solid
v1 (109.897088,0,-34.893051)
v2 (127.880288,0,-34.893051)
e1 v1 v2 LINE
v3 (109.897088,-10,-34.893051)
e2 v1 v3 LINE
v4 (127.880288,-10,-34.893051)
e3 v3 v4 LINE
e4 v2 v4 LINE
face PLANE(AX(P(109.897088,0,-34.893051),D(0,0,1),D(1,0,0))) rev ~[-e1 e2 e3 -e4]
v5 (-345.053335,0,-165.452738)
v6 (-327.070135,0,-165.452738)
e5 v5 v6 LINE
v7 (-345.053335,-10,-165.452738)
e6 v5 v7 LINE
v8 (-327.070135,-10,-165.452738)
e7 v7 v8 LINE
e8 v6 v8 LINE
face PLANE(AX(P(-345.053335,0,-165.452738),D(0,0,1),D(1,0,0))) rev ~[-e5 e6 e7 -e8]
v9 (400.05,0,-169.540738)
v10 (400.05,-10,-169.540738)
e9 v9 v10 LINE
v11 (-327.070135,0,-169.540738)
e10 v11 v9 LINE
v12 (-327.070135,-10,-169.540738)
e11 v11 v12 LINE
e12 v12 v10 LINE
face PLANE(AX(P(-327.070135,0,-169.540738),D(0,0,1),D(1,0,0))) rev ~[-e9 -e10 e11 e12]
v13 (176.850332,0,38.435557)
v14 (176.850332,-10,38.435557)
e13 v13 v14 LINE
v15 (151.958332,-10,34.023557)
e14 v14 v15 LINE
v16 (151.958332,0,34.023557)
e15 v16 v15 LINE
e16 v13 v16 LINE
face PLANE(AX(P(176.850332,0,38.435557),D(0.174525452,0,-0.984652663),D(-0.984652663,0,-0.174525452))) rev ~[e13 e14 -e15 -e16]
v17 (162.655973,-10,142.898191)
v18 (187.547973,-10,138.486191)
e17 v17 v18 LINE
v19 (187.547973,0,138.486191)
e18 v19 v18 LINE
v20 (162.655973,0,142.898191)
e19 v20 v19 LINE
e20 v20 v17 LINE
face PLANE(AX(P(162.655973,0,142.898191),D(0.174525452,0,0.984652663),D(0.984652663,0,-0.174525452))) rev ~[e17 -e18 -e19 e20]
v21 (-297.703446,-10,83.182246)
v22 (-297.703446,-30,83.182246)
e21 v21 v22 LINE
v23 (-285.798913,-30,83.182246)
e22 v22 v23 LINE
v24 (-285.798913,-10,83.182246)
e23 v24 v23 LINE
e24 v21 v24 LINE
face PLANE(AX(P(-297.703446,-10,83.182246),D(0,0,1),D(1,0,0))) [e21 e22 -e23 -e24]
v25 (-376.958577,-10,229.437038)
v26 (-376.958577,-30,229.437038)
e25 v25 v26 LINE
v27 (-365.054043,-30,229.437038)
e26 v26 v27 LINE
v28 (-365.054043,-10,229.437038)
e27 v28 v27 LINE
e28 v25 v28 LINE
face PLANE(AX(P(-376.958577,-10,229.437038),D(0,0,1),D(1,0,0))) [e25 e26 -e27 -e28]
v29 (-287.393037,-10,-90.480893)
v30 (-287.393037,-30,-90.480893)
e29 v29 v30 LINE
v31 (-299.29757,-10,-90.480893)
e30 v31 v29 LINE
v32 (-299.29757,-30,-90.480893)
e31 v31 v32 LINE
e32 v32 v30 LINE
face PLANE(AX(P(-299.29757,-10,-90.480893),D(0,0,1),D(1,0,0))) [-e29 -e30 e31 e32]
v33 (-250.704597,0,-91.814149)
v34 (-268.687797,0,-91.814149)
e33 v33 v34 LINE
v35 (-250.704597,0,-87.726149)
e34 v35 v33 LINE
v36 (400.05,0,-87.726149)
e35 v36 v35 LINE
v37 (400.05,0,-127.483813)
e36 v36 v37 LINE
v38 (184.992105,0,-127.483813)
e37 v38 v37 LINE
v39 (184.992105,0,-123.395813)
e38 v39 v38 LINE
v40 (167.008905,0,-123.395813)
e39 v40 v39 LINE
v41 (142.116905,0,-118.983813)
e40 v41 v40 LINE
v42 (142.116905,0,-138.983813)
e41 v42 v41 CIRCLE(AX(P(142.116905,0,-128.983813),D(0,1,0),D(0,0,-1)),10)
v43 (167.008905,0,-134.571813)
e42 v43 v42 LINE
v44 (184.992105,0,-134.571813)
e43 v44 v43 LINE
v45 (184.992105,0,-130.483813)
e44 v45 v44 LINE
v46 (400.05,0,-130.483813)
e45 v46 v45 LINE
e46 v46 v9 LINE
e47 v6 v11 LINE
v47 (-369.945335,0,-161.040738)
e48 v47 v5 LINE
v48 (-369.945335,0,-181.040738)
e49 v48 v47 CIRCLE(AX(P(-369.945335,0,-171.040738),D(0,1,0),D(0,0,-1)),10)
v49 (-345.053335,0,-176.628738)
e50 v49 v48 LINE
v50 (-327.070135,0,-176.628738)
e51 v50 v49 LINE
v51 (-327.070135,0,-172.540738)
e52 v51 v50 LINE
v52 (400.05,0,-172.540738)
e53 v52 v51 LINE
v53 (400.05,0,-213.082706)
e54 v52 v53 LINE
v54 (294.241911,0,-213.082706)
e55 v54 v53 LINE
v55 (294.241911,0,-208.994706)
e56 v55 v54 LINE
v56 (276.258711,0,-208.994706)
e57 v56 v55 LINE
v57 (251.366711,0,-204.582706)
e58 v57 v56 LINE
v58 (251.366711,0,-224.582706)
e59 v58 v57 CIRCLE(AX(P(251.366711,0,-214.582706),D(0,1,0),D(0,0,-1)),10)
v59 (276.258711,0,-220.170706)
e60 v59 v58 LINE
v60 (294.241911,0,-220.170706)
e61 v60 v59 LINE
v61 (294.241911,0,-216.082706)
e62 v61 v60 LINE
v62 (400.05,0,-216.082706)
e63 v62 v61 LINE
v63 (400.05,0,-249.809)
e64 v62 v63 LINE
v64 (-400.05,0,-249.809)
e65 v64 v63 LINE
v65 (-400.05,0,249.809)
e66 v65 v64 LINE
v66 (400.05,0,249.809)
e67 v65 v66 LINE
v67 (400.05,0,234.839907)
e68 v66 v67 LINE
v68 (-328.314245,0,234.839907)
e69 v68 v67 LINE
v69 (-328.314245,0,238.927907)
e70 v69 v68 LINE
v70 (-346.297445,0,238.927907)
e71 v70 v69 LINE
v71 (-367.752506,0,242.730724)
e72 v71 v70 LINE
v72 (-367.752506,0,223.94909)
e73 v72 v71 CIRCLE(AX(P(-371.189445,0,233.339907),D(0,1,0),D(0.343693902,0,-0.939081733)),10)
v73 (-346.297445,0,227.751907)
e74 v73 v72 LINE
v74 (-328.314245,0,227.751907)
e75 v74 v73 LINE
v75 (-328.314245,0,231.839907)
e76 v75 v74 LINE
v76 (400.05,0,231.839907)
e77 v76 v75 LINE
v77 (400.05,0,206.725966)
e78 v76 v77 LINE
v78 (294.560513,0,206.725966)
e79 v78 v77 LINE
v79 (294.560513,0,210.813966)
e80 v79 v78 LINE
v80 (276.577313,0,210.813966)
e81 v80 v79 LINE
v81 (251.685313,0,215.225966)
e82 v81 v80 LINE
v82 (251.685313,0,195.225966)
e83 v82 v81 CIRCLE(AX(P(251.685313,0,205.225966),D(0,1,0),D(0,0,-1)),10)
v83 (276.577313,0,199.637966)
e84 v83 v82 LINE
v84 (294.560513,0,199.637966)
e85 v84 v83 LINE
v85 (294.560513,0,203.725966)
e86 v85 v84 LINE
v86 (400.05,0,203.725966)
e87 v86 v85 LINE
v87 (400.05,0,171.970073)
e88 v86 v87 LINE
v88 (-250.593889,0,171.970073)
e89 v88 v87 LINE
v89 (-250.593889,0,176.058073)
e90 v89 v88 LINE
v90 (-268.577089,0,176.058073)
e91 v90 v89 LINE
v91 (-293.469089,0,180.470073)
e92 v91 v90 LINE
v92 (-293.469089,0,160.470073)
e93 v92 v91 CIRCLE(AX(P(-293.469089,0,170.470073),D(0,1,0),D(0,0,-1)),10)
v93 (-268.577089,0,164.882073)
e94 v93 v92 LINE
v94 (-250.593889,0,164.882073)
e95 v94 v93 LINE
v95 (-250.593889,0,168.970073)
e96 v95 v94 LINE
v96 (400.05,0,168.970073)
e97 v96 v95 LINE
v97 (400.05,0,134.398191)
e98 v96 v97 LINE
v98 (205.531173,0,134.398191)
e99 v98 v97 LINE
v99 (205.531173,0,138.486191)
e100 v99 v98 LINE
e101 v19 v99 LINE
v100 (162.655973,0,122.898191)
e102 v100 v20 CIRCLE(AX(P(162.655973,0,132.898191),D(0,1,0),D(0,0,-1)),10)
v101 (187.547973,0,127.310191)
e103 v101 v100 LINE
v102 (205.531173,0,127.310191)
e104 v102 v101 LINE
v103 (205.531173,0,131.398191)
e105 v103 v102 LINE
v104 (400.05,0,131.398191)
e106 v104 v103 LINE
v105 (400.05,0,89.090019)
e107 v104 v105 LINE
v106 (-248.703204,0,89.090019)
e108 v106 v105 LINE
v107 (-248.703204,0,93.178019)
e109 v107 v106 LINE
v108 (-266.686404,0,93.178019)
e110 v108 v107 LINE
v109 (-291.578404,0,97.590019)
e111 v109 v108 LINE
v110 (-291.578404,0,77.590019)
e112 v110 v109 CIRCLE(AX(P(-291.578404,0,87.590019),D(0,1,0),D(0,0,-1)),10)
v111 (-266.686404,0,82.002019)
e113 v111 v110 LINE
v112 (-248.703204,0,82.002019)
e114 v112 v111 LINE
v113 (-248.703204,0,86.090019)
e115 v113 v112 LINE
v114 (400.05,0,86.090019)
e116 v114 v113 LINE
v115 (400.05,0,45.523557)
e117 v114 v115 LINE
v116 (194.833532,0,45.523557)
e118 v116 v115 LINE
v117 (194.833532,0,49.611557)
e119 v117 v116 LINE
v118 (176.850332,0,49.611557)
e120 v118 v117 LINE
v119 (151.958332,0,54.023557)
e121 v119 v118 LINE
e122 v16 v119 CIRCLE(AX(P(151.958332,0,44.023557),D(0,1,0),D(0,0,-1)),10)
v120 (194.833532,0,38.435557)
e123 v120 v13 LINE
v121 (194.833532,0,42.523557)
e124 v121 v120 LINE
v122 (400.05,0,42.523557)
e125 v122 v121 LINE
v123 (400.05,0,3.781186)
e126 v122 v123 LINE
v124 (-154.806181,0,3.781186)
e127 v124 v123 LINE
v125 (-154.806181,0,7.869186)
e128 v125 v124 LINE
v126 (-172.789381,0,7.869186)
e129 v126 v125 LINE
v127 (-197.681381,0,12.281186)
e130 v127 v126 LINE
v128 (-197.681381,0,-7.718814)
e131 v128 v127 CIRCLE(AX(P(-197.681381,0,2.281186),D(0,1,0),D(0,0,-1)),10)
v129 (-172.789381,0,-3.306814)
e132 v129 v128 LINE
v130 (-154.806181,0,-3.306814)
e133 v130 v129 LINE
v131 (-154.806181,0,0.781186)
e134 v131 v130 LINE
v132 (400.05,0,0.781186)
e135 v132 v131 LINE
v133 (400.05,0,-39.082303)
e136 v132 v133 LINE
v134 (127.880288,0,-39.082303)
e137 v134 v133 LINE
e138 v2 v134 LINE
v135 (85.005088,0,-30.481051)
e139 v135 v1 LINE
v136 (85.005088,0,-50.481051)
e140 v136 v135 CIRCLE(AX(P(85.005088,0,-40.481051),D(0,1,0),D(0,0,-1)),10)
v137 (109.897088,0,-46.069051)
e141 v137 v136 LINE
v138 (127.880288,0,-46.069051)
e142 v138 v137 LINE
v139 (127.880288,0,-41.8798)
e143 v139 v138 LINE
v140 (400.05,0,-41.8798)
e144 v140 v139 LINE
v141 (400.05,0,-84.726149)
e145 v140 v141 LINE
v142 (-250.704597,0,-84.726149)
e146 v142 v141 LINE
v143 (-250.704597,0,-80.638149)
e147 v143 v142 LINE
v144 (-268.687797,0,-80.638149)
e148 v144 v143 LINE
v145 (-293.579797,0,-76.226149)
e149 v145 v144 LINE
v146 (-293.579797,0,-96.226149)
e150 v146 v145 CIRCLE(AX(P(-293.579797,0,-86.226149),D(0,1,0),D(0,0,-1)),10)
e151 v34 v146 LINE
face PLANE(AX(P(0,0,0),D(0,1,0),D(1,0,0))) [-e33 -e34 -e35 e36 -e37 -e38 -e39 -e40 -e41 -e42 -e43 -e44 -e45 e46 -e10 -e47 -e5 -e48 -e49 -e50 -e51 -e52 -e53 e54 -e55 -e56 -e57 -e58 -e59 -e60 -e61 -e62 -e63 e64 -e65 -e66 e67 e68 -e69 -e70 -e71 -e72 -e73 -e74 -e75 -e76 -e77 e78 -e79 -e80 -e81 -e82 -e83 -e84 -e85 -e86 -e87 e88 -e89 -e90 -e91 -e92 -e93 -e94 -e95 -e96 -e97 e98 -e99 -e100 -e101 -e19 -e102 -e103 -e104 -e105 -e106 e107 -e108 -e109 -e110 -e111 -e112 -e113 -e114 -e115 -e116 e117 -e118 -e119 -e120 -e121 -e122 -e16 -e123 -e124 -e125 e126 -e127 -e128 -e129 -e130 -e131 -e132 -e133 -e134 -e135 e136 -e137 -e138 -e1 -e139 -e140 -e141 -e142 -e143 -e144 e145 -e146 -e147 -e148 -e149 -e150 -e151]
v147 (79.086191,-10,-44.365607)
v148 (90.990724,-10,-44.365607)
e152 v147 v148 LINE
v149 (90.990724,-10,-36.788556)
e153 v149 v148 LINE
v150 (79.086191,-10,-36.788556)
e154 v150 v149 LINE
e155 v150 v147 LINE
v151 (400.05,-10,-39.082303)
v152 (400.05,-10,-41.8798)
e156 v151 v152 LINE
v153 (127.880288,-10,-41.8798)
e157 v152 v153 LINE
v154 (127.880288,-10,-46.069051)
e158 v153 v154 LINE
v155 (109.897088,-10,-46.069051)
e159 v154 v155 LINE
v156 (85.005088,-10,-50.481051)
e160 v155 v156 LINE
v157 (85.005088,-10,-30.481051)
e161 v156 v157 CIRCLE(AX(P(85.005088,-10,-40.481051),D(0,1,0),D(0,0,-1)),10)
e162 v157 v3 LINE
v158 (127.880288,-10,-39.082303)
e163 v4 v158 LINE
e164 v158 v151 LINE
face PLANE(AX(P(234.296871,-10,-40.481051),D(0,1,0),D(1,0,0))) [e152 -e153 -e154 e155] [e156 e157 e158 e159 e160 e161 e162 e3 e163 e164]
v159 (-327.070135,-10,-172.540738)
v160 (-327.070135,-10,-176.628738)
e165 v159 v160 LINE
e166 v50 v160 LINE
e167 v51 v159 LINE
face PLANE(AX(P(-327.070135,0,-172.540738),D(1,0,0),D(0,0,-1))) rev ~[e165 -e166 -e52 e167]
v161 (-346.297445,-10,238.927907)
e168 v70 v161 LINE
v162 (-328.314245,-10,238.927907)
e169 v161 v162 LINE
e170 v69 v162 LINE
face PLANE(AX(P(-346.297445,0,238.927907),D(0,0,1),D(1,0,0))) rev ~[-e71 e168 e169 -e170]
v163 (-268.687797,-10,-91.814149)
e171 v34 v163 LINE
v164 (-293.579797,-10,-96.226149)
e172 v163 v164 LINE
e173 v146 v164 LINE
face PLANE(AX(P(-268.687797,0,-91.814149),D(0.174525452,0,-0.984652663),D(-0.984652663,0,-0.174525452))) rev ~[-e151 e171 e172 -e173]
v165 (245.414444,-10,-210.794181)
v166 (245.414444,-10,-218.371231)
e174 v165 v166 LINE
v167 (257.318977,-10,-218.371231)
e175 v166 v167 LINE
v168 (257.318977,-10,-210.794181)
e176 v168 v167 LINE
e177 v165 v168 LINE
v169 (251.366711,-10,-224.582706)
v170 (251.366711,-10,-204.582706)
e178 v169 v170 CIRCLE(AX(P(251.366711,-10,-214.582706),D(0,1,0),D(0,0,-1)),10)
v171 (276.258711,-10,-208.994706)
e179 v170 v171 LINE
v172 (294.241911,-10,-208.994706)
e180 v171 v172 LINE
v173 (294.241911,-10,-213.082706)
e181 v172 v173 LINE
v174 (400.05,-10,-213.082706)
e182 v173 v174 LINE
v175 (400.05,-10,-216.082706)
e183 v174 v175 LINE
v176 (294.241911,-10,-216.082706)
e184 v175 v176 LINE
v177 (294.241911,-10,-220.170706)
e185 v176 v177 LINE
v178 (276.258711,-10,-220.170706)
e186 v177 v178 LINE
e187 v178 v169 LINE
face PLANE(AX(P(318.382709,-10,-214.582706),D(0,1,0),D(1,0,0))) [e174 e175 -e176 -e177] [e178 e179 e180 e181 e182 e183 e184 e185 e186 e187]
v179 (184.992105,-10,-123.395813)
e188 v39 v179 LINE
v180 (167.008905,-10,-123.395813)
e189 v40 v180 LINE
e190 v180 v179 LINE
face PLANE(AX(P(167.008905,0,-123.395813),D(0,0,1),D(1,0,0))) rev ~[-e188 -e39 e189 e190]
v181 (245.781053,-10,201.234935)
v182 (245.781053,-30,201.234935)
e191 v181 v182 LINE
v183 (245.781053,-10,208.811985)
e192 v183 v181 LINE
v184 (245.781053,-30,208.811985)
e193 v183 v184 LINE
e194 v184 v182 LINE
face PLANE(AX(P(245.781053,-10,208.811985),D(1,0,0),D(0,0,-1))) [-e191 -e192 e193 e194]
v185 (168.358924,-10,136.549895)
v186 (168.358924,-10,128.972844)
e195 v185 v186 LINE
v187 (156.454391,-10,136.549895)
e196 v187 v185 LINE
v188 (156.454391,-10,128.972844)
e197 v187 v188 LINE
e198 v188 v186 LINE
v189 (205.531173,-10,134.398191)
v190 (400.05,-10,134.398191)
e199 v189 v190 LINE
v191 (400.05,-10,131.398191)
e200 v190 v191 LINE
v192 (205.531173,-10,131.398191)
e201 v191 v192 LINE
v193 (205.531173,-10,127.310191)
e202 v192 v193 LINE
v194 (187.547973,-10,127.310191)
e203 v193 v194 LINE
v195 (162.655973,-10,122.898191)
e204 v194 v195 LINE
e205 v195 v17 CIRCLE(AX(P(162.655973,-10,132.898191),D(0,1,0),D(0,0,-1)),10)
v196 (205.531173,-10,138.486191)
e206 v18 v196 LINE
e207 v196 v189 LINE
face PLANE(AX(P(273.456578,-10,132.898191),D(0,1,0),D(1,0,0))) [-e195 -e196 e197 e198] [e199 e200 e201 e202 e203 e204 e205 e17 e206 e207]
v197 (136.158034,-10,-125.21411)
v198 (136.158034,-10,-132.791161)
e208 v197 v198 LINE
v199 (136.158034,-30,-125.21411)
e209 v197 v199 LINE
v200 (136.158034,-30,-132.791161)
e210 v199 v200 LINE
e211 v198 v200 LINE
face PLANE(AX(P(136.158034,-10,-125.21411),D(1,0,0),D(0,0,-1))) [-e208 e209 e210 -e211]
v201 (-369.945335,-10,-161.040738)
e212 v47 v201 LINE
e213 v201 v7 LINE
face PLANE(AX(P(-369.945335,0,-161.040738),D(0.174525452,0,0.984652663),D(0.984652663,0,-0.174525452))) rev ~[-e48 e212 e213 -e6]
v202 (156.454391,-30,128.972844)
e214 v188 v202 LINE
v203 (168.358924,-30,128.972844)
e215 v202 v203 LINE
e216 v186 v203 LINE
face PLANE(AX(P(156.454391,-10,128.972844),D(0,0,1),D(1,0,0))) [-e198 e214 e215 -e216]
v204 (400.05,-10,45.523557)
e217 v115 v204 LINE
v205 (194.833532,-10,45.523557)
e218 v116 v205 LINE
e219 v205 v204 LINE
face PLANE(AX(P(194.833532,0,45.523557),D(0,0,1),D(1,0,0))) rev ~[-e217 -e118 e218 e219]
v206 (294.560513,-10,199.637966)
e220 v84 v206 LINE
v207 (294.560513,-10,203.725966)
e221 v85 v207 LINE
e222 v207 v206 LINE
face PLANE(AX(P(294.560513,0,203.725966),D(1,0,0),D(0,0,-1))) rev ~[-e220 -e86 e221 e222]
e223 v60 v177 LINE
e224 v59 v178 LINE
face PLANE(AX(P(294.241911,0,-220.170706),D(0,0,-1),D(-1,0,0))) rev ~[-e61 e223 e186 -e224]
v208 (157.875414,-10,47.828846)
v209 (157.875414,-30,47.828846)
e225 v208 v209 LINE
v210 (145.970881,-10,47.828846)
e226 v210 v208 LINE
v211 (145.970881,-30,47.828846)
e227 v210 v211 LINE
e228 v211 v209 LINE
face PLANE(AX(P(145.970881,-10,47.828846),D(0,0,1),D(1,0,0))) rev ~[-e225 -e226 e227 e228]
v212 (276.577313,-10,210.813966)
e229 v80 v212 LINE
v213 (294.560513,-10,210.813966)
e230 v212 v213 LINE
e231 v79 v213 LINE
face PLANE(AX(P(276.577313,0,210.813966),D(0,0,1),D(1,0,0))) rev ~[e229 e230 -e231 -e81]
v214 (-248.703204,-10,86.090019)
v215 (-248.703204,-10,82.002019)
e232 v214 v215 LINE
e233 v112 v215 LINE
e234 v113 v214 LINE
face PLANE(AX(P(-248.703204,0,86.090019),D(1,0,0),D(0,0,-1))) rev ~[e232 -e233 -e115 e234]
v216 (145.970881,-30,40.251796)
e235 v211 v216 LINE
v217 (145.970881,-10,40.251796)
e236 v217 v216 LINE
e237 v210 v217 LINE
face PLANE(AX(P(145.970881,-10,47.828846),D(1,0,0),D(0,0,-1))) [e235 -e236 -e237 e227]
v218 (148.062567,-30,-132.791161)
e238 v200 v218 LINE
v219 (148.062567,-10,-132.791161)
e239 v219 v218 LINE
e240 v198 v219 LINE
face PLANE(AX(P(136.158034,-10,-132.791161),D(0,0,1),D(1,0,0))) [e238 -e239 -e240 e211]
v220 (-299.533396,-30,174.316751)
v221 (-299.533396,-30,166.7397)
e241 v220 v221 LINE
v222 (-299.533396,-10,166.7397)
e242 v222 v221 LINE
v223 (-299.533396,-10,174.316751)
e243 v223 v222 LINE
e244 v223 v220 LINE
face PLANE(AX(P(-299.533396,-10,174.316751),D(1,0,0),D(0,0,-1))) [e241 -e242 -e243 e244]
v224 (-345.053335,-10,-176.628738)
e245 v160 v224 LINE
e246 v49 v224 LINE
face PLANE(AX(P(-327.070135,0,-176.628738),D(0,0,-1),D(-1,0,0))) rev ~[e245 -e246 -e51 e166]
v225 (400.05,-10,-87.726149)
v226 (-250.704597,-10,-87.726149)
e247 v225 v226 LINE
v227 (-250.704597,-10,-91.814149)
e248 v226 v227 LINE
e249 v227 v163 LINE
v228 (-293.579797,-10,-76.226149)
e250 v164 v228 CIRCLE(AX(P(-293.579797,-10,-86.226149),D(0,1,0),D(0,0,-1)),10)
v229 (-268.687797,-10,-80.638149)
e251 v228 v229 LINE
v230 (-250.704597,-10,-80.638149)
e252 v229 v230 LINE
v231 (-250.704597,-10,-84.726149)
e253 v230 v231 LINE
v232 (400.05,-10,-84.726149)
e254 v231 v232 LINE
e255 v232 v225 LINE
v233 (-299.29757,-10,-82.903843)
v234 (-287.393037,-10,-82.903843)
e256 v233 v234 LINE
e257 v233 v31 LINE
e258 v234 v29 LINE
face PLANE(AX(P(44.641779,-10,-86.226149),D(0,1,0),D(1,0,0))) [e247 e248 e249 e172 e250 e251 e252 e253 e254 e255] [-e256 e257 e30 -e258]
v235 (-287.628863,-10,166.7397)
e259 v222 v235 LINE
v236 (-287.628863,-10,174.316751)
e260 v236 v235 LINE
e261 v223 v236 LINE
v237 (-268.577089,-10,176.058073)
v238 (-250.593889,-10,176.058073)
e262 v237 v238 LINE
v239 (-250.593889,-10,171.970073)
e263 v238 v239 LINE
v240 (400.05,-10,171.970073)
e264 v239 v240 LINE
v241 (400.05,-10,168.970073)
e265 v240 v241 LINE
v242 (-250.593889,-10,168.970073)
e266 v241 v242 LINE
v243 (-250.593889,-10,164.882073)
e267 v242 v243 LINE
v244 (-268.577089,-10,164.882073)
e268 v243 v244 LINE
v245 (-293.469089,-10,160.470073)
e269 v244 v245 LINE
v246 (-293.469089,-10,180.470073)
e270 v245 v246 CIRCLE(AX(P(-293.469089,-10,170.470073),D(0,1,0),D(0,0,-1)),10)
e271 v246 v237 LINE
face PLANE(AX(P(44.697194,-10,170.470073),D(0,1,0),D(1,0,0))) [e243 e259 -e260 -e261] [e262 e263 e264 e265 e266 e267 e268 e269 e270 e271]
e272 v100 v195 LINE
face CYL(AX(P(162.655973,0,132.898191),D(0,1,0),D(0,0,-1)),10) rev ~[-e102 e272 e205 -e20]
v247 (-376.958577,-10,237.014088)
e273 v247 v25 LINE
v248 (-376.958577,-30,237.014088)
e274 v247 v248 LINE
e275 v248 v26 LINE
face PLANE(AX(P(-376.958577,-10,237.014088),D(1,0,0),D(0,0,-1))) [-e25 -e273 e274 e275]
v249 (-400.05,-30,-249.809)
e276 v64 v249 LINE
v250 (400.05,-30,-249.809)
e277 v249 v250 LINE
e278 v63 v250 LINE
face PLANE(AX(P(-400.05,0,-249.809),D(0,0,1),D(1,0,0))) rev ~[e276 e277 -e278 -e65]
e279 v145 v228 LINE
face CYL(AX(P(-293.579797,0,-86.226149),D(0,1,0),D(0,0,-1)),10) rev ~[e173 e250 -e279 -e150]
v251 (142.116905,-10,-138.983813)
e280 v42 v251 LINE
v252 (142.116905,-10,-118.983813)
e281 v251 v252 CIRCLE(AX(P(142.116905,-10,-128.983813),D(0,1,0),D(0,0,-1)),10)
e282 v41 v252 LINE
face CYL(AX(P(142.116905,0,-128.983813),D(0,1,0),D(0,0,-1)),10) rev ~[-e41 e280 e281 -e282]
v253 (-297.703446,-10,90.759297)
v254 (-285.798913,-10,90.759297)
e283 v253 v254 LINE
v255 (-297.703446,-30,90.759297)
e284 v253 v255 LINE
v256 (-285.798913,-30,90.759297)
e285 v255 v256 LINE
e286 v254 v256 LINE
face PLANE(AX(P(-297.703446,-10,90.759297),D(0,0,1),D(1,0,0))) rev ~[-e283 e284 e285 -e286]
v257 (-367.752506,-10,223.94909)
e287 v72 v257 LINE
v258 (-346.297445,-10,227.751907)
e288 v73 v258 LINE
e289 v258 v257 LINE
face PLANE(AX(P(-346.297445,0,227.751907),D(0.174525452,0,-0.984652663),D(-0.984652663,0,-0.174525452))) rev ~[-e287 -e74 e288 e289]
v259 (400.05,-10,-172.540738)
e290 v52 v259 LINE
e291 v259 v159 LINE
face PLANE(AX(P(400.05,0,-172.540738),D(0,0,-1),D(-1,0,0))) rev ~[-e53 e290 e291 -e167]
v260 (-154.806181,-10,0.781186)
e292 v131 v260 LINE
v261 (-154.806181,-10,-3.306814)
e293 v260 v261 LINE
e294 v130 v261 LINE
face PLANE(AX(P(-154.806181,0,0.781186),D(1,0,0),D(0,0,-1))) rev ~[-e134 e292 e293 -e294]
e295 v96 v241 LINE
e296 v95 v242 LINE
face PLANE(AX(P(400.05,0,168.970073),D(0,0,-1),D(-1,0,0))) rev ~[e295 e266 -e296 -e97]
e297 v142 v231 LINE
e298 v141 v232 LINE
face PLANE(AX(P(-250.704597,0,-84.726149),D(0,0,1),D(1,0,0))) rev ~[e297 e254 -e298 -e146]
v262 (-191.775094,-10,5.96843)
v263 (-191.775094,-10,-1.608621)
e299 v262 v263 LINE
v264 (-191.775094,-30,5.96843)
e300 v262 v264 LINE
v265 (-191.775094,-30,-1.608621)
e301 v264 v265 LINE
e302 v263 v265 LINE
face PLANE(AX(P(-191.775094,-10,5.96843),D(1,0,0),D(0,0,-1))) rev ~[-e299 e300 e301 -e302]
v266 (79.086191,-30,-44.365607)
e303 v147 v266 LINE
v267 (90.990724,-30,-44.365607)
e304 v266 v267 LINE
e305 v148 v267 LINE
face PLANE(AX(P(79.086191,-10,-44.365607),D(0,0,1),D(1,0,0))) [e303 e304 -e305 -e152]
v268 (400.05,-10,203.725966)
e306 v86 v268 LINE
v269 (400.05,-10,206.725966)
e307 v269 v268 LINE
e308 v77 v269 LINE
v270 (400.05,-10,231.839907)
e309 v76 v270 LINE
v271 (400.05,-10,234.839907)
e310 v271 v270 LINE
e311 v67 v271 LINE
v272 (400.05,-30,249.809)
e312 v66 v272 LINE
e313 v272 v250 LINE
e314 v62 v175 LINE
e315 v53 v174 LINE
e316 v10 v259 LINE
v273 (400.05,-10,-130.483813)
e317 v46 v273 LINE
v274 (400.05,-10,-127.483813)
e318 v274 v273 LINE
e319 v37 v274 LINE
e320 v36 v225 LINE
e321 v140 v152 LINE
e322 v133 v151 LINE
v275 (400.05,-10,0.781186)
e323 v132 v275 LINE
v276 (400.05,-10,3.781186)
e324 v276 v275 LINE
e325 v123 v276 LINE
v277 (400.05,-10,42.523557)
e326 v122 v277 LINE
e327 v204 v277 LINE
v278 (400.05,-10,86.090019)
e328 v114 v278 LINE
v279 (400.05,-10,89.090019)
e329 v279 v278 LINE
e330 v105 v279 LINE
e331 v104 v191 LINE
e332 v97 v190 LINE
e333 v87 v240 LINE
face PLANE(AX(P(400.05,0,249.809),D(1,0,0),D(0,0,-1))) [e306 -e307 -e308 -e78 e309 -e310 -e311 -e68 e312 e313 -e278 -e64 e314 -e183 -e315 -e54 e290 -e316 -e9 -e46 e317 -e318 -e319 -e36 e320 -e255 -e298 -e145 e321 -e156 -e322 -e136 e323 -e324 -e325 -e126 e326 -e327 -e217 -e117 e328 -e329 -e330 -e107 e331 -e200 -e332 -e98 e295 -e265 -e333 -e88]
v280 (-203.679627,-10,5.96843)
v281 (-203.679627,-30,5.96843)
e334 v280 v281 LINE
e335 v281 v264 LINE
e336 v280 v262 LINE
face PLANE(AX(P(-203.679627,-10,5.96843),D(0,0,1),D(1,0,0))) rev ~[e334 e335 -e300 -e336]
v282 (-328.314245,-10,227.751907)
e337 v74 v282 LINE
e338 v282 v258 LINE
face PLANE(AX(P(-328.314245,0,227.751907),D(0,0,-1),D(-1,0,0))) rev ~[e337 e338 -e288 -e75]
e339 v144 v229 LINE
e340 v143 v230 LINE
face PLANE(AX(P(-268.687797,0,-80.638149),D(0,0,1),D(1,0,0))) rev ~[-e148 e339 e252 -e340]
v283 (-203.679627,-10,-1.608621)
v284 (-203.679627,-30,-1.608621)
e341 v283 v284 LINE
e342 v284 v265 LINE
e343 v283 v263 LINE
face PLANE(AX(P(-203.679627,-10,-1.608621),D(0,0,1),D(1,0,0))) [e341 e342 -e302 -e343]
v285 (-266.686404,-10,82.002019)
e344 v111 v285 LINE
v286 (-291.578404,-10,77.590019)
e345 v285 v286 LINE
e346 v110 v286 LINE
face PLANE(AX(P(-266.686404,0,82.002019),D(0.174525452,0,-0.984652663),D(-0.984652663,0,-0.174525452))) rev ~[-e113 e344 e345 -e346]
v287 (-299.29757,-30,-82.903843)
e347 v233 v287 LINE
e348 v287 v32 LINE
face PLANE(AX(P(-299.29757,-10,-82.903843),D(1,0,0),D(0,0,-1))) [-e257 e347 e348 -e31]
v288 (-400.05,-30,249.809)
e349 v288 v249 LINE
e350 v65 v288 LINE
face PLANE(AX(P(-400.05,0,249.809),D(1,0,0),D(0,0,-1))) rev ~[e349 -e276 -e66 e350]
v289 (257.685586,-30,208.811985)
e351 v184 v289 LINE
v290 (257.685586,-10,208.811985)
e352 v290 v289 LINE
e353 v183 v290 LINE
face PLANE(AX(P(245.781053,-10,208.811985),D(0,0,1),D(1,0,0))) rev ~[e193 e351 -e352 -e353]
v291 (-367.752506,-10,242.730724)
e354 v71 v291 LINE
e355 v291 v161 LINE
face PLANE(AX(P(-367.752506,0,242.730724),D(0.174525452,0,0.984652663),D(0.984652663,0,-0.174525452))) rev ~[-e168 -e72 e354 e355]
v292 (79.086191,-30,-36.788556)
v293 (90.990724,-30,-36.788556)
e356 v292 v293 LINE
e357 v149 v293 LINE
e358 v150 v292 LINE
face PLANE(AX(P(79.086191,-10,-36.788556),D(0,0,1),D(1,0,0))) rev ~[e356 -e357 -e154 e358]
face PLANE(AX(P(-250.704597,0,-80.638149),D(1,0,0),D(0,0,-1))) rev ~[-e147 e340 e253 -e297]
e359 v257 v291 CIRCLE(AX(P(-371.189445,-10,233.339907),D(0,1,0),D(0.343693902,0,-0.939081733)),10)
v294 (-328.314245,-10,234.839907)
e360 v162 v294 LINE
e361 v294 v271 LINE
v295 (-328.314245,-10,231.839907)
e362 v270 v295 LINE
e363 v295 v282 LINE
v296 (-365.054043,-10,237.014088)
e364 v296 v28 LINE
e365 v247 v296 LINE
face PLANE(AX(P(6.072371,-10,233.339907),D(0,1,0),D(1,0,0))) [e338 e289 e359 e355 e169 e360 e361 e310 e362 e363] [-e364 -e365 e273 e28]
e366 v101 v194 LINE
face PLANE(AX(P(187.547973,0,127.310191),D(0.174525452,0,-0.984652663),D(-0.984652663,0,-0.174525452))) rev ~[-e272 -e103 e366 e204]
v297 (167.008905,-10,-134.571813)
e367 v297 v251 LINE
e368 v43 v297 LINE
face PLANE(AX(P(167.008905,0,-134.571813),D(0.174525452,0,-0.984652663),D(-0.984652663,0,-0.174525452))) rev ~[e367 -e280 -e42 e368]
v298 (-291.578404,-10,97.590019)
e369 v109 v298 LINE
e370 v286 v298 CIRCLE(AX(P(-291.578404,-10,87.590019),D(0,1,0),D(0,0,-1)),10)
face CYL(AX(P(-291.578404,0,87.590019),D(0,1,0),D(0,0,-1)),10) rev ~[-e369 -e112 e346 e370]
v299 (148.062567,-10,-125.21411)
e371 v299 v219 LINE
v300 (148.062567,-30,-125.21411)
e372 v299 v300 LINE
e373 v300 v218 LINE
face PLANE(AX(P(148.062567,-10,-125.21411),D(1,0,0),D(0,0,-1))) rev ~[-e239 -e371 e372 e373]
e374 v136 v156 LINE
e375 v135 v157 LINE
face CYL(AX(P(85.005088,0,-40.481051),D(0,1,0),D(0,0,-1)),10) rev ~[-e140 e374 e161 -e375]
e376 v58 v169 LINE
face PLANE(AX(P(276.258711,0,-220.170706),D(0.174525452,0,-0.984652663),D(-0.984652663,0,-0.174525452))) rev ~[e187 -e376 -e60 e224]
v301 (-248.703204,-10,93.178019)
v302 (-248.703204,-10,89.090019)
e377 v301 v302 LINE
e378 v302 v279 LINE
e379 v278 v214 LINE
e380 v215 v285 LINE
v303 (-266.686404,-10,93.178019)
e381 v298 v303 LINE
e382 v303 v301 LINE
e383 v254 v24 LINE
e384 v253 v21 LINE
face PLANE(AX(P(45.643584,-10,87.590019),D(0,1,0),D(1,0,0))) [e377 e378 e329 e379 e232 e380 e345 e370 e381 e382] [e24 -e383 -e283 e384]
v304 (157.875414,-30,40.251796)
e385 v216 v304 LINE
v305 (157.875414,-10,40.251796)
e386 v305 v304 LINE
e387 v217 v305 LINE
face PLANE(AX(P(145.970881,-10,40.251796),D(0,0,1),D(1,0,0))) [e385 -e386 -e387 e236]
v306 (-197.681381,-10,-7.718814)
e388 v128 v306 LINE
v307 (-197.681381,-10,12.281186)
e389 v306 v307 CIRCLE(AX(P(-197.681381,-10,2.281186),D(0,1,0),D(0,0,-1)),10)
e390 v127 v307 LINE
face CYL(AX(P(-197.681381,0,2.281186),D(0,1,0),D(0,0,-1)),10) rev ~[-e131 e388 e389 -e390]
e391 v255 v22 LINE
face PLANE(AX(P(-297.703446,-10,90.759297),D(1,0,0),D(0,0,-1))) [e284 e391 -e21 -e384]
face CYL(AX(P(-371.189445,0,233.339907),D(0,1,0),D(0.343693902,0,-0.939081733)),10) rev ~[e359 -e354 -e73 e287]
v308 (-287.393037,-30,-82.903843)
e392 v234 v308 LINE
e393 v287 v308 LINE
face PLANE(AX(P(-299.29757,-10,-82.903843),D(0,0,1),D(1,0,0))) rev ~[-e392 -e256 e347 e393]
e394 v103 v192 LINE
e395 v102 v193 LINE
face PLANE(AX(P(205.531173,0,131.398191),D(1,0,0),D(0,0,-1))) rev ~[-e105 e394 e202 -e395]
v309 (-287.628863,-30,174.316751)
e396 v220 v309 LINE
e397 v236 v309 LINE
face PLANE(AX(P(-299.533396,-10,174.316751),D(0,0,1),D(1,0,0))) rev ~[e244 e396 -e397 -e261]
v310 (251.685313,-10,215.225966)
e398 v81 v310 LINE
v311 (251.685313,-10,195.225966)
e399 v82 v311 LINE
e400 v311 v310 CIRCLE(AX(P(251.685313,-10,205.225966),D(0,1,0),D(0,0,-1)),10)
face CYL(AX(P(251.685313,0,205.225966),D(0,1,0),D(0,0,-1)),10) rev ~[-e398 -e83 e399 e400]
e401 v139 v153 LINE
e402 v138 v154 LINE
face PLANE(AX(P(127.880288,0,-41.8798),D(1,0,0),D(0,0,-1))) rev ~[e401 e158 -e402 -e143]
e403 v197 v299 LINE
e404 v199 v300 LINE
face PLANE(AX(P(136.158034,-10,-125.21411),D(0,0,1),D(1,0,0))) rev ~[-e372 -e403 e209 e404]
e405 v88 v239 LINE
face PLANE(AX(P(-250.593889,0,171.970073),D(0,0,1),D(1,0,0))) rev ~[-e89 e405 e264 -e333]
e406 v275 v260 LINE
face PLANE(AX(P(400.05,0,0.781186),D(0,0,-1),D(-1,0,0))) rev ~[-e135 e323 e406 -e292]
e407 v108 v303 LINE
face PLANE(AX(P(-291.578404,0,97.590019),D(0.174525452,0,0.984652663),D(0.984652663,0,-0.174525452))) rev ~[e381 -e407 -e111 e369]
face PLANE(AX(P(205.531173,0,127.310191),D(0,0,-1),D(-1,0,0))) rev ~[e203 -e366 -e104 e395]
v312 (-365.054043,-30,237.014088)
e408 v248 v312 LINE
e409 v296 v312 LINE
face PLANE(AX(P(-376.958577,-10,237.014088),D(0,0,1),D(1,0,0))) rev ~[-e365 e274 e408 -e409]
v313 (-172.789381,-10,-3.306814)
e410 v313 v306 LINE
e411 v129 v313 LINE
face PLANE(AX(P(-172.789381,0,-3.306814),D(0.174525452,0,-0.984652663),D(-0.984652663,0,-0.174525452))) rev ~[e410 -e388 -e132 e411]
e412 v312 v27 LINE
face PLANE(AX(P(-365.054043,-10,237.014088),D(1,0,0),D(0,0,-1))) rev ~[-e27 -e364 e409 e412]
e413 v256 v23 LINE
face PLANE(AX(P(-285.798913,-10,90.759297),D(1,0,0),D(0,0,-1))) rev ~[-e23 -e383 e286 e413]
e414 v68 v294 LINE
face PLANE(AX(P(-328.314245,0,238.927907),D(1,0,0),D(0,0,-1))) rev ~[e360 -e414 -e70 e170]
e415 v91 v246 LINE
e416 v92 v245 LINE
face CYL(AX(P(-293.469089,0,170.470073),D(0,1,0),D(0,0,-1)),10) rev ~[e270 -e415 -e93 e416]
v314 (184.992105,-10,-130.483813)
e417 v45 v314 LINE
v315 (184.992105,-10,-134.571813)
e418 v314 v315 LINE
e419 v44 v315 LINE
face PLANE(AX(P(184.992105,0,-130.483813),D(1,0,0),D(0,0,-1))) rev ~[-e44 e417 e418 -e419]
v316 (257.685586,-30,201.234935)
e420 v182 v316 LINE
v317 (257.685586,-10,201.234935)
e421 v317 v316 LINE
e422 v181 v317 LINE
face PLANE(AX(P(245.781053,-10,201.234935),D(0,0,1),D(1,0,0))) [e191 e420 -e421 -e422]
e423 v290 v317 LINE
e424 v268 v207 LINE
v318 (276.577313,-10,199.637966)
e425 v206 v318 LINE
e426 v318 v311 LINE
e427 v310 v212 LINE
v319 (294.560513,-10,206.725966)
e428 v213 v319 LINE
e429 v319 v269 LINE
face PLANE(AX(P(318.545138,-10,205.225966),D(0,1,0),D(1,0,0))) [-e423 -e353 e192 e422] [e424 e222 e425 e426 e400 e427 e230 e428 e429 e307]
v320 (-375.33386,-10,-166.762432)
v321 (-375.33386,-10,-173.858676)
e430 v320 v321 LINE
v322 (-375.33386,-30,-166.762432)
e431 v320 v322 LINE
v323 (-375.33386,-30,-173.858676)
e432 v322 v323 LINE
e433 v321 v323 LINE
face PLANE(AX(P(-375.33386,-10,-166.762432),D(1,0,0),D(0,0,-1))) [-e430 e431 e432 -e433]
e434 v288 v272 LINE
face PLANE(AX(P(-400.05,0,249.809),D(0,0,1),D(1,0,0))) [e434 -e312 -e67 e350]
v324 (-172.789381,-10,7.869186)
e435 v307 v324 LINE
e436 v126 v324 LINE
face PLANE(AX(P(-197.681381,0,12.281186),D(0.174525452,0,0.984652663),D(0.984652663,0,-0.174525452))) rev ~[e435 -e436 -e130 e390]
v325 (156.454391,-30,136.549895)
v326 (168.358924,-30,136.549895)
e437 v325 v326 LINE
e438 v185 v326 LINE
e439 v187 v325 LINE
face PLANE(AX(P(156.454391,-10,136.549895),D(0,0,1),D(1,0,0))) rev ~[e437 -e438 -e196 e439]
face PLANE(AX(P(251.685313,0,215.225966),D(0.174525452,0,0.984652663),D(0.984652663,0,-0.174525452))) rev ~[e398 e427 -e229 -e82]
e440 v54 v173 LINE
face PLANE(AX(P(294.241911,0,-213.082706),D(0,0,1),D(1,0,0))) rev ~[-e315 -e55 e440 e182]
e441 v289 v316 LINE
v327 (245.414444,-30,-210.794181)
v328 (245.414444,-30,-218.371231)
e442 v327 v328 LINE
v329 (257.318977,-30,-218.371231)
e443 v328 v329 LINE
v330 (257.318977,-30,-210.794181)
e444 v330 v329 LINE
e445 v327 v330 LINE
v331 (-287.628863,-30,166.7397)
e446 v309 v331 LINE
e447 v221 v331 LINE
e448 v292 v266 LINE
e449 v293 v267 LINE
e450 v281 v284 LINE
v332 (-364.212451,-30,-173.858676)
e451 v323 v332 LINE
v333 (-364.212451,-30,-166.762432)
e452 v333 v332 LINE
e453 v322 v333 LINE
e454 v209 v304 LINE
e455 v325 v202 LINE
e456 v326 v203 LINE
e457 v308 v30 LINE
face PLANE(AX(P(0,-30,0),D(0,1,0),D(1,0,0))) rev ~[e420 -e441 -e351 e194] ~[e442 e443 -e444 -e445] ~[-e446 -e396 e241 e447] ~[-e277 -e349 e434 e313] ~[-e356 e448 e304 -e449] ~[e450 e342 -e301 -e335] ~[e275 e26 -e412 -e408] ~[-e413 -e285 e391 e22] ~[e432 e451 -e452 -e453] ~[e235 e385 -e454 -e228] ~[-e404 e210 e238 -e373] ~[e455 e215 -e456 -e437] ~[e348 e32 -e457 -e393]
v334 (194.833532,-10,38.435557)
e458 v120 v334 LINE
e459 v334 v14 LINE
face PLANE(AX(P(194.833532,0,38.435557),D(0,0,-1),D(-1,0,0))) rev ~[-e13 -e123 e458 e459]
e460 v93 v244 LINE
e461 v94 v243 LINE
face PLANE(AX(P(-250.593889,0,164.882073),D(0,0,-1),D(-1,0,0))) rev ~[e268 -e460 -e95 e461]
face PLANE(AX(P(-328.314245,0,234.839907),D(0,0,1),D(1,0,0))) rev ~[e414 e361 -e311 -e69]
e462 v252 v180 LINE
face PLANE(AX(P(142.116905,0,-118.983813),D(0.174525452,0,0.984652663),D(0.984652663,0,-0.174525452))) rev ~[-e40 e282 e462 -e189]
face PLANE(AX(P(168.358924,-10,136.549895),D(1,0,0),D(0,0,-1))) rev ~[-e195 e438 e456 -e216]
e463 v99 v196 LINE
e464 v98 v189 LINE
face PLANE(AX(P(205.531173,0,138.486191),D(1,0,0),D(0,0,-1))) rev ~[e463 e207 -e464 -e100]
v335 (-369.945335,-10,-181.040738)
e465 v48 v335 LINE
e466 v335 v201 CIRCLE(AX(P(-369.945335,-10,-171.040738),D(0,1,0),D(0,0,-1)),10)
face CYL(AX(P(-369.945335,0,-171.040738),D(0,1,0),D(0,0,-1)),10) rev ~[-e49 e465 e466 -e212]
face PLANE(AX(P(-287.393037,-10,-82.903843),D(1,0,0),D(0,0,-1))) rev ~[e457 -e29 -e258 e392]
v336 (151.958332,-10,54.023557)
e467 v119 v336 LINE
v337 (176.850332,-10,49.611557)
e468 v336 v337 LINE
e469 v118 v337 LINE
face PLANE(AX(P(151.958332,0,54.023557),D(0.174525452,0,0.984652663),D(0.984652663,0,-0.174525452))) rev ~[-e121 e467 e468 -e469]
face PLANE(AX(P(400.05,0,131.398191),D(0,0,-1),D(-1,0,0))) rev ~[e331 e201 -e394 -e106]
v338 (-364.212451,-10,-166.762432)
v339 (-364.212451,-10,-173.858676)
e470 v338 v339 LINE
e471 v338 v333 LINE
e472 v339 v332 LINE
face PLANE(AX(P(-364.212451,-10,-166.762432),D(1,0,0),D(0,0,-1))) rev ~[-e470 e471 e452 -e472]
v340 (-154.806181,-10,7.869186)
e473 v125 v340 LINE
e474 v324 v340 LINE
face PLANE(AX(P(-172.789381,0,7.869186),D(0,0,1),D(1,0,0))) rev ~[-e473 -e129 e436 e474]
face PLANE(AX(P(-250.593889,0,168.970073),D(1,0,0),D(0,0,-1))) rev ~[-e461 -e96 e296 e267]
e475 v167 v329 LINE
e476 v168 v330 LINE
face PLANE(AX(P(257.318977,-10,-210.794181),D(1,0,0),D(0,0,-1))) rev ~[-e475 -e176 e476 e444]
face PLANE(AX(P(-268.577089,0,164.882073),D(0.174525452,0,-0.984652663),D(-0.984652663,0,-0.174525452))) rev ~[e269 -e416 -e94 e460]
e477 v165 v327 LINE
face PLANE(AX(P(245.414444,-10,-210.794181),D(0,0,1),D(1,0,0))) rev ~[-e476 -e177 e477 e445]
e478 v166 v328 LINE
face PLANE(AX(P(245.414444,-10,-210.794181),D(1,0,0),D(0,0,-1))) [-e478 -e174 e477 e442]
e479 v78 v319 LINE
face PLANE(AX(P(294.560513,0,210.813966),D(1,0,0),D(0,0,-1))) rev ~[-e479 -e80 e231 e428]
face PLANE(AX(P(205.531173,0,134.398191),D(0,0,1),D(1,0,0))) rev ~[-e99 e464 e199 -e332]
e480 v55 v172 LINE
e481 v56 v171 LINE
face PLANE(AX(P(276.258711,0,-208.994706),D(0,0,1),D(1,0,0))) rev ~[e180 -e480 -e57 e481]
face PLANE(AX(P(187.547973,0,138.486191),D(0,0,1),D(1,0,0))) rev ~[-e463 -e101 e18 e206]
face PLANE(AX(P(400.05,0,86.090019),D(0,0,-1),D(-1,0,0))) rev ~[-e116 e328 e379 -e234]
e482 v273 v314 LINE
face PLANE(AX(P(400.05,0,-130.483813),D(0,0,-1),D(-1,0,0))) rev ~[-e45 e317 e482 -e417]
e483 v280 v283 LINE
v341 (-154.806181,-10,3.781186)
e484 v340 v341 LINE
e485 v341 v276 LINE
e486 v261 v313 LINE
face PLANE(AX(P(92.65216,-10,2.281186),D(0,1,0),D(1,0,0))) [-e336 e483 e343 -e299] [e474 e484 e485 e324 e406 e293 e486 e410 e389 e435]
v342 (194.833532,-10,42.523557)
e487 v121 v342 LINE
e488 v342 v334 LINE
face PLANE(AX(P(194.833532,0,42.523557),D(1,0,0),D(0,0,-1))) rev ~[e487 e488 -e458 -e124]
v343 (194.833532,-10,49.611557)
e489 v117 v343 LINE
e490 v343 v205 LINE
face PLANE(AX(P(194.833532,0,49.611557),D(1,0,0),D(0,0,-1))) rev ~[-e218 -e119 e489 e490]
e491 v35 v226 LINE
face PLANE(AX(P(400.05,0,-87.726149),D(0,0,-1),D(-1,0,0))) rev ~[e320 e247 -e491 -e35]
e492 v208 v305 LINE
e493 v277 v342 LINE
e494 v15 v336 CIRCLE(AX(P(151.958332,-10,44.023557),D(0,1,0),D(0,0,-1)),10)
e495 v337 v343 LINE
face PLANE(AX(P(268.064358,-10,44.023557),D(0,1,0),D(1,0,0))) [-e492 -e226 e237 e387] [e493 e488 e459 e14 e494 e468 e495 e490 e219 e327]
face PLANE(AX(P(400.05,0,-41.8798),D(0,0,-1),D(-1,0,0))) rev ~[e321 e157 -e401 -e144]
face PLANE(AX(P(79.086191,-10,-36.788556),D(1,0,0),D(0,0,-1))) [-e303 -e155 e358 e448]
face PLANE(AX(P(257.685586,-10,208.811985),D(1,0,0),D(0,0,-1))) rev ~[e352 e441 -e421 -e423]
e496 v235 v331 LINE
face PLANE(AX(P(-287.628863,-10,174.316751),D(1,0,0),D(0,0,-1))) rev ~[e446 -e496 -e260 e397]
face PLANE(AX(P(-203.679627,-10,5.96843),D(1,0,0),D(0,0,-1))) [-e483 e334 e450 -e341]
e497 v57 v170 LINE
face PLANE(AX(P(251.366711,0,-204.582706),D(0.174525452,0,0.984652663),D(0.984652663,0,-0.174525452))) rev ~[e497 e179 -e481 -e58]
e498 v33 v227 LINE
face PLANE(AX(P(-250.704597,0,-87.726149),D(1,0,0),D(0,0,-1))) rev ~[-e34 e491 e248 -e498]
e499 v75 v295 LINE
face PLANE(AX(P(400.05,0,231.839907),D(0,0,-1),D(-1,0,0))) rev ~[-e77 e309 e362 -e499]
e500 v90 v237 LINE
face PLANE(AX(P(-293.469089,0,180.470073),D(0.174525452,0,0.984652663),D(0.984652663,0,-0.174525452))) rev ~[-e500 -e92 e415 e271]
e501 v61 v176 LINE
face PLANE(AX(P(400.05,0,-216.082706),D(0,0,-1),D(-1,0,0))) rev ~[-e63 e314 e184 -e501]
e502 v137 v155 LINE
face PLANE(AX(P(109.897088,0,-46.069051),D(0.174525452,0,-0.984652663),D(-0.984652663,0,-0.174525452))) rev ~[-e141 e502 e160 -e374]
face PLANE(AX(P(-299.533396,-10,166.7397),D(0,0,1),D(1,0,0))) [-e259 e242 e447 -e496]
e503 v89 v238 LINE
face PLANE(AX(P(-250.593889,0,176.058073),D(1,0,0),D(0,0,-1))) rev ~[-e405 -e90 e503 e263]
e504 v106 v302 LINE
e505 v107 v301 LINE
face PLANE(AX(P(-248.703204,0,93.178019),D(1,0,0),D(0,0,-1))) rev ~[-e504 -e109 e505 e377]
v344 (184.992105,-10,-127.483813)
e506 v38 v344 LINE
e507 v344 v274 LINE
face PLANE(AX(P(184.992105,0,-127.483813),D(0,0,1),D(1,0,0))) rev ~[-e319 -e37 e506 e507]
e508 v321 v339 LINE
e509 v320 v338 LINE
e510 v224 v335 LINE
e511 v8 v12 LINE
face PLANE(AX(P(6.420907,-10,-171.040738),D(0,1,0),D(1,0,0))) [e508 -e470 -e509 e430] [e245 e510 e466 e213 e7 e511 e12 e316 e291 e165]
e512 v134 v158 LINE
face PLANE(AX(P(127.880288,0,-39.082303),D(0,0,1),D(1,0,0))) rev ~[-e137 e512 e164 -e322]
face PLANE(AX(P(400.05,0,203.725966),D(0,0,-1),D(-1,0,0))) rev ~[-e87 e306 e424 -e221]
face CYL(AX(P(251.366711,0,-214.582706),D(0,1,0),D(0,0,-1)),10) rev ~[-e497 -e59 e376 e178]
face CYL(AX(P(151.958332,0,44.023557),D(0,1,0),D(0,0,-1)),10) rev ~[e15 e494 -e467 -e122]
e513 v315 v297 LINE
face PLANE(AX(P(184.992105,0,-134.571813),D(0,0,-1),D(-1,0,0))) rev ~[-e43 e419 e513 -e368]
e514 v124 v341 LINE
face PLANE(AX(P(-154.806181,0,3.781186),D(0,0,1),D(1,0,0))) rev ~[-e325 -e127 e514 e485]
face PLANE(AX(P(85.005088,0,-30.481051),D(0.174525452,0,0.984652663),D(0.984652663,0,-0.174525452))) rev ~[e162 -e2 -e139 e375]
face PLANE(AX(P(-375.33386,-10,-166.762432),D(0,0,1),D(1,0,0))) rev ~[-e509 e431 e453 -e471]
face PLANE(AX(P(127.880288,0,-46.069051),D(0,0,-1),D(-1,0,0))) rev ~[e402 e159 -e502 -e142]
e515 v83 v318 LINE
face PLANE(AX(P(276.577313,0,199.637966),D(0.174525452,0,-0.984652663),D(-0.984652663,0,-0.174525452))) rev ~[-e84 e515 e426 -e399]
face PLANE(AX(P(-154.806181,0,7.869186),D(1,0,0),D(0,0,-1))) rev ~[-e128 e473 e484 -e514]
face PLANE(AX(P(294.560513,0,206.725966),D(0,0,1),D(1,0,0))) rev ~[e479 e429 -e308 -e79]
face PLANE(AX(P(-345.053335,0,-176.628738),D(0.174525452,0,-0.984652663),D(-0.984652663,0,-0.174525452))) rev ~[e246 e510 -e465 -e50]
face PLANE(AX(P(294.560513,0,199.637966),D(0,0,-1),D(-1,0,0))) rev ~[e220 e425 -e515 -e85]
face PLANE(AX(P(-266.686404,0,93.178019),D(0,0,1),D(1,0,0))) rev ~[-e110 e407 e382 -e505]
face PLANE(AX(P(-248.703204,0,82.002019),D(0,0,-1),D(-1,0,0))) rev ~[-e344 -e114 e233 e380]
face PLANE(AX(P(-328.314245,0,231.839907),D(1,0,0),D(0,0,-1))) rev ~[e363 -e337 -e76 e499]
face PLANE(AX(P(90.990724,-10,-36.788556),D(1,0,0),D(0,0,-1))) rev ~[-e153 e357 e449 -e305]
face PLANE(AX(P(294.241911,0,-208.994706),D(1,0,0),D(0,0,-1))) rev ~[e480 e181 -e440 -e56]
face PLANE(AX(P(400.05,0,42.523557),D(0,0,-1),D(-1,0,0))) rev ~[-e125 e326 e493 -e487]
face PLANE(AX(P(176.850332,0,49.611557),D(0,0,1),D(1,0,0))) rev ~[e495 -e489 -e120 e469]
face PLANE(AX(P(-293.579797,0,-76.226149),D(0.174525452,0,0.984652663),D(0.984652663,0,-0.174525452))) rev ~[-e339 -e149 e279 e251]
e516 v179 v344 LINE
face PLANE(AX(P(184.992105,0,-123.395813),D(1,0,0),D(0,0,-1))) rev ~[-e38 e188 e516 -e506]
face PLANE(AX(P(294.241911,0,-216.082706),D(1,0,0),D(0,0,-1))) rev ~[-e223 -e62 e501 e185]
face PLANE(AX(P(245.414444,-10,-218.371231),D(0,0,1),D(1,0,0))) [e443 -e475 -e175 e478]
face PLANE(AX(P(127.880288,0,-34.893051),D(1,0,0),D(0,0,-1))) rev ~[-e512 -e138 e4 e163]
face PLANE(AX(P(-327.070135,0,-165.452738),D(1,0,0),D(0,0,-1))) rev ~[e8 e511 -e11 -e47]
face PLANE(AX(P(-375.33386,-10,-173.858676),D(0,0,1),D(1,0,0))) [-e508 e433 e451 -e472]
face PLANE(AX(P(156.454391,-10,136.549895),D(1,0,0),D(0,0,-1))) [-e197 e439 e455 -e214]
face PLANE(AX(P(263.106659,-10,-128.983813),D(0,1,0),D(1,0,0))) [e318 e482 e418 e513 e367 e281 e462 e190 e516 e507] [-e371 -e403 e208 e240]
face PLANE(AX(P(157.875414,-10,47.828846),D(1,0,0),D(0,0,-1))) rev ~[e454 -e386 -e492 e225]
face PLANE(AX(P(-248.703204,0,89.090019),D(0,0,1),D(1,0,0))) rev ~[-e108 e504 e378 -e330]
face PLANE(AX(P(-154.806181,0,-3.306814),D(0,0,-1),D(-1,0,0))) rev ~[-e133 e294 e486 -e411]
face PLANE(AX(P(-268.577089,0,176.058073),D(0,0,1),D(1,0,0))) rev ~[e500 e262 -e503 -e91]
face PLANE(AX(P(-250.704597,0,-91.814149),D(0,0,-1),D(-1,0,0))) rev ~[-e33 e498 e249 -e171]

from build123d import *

# Parameters (mm, degrees)
SKETCH1_W           = 800.1
SKETCH1_H           = 499.618
BOSS_EXTRUDE1_DEPTH = 30
CUT_EXTRUDE3_DEPTH  = 10
SKETCH3_W           = 11.904533089
SKETCH3_H           = 7.577050726
SKETCH3_W_2         = 11.121408268
SKETCH3_H_2         = 7.09624417
SKETCH3_H_3         = 7.577050727
SKETCH3_W_3         = 11.90453309
CUT_EXTRUDE5_DEPTH  = 473.06412592


with BuildPart() as part:
    # Sketch1 → Boss-Extrude1 (new body)
    with BuildSketch(Plane(origin=(0, 0, 0), x_dir=(1, 0, 0), z_dir=(0, 1, 0))):
        Rectangle(SKETCH1_W, SKETCH1_H)
    extrude(amount=-BOSS_EXTRUDE1_DEPTH)

    # Sketch2 → Cut-Extrude3 (cut)
    with BuildSketch(Plane(origin=(0, 0, 0), x_dir=(1, 0, 0), z_dir=(0, 1, 0))):
        with BuildLine():
            ThreePointArc((251.366710834, 224.582705951), (241.366710834, 214.582705951), (251.366710834, 204.582705951))
            Line((251.366710834, 204.582705951), (276.258710834, 208.994705951))
            Line((276.258710834, 208.994705951), (294.241910834, 208.994705951))
            Line((294.241910834, 208.994705951), (294.241910834, 213.082705951))
            Line((294.241910834, 213.082705951), (400.05, 213.082705951))
            Line((400.05, 213.082705951), (400.05, 216.082705951))
            Line((400.05, 216.082705951), (294.241910834, 216.082705951))
            Line((294.241910834, 216.082705951), (294.241910834, 220.170705951))
            Line((294.241910834, 220.170705951), (276.258710834, 220.170705951))
            Line((276.258710834, 220.170705951), (251.366710834, 224.582705951))
        make_face()
        with BuildLine():
            ThreePointArc((-369.945334755, 181.04073751), (-379.945334755, 171.04073751), (-369.945334755, 161.04073751))
            Line((-369.945334755, 161.04073751), (-345.053334755, 165.45273751))
            Line((-345.053334755, 165.45273751), (-327.070134755, 165.45273751))
            Line((-327.070134755, 165.45273751), (-327.070134755, 169.54073751))
            Line((-327.070134755, 169.54073751), (400.05, 169.54073751))
            Line((400.05, 169.54073751), (400.05, 172.54073751))
            Line((400.05, 172.54073751), (-327.070134755, 172.54073751))
            Line((-327.070134755, 172.54073751), (-327.070134755, 176.62873751))
            Line((-327.070134755, 176.62873751), (-345.053334755, 176.62873751))
            Line((-345.053334755, 176.62873751), (-369.945334755, 181.04073751))
        make_face()
        with BuildLine():
            ThreePointArc((142.116905381, 138.983812763), (132.116905381, 128.983812763), (142.116905381, 118.983812763))
            Line((142.116905381, 118.983812763), (167.008905381, 123.395812763))
            Line((167.008905381, 123.395812763), (184.992105381, 123.395812763))
            Line((184.992105381, 123.395812763), (184.992105381, 127.483812763))
            Line((184.992105381, 127.483812763), (400.05, 127.483812763))
            Line((400.05, 127.483812763), (400.05, 130.483812763))
            Line((400.05, 130.483812763), (184.992105381, 130.483812763))
            Line((184.992105381, 130.483812763), (184.992105381, 134.571812763))
            Line((184.992105381, 134.571812763), (167.008905381, 134.571812763))
            Line((167.008905381, 134.571812763), (142.116905381, 138.983812763))
        make_face()
        with BuildLine():
            ThreePointArc((-293.579796741, 96.226149121), (-303.579796741, 86.226149121), (-293.579796741, 76.226149121))
            Line((-293.579796741, 76.226149121), (-268.687796741, 80.638149121))
            Line((-268.687796741, 80.638149121), (-250.704596741, 80.638149121))
            Line((-250.704596741, 80.638149121), (-250.704596741, 84.726149121))
            Line((-250.704596741, 84.726149121), (400.05, 84.726149121))
            Line((400.05, 84.726149121), (400.05, 87.726149121))
            Line((400.05, 87.726149121), (-250.704596741, 87.726149121))
            Line((-250.704596741, 87.726149121), (-250.704596741, 91.814149121))
            Line((-250.704596741, 91.814149121), (-268.687796741, 91.814149121))
            Line((-268.687796741, 91.814149121), (-293.579796741, 96.226149121))
        make_face()
        with BuildLine():
            ThreePointArc((85.005088044, 50.481051347), (75.005088044, 40.481051347), (85.005088044, 30.481051347))
            Line((85.005088044, 30.481051347), (109.897088044, 34.893051347))
            Line((109.897088044, 34.893051347), (127.880288044, 34.893051347))
            Line((127.880288044, 34.893051347), (127.880288044, 39.082302533))
            Line((127.880288044, 39.082302533), (400.05, 39.082302533))
            Line((400.05, 39.082302533), (400.05, 41.87980016))
            Line((400.05, 41.87980016), (127.880288044, 41.87980016))
            Line((127.880288044, 41.87980016), (127.880288044, 46.069051347))
            Line((127.880288044, 46.069051347), (109.897088044, 46.069051347))
            Line((109.897088044, 46.069051347), (85.005088044, 50.481051347))
        make_face()
        with BuildLine():
            ThreePointArc((-197.68138109, 7.718814402), (-207.68138109, -2.281185598), (-197.68138109, -12.281185598))
            Line((-197.68138109, -12.281185598), (-172.78938109, -7.869185598))
            Line((-172.78938109, -7.869185598), (-154.80618109, -7.869185598))
            Line((-154.80618109, -7.869185598), (-154.80618109, -3.781185598))
            Line((-154.80618109, -3.781185598), (400.05, -3.781185598))
            Line((400.05, -3.781185598), (400.05, -0.781185598))
            Line((400.05, -0.781185598), (-154.80618109, -0.781185598))
            Line((-154.80618109, -0.781185598), (-154.80618109, 3.306814402))
            Line((-154.80618109, 3.306814402), (-172.78938109, 3.306814402))
            Line((-172.78938109, 3.306814402), (-197.68138109, 7.718814402))
        make_face()
        with BuildLine():
            ThreePointArc((151.958331876, -34.023556795), (141.958331876, -44.023556795), (151.958331876, -54.023556795))
            Line((151.958331876, -54.023556795), (176.850331876, -49.611556795))
            Line((176.850331876, -49.611556795), (194.833531876, -49.611556795))
            Line((194.833531876, -49.611556795), (194.833531876, -45.523556795))
            Line((194.833531876, -45.523556795), (400.05, -45.523556795))
            Line((400.05, -45.523556795), (400.05, -42.523556795))
            Line((400.05, -42.523556795), (194.833531876, -42.523556795))
            Line((194.833531876, -42.523556795), (194.833531876, -38.435556795))
            Line((194.833531876, -38.435556795), (176.850331876, -38.435556795))
            Line((176.850331876, -38.435556795), (151.958331876, -34.023556795))
        make_face()
        with BuildLine():
            ThreePointArc((-291.578404305, -77.590018504), (-301.578404305, -87.590018504), (-291.578404305, -97.590018504))
            Line((-291.578404305, -97.590018504), (-266.686404305, -93.178018504))
            Line((-266.686404305, -93.178018504), (-248.703204305, -93.178018504))
            Line((-248.703204305, -93.178018504), (-248.703204305, -89.090018504))
            Line((-248.703204305, -89.090018504), (400.05, -89.090018504))
            Line((400.05, -89.090018504), (400.05, -86.090018504))
            Line((400.05, -86.090018504), (-248.703204305, -86.090018504))
            Line((-248.703204305, -86.090018504), (-248.703204305, -82.002018504))
            Line((-248.703204305, -82.002018504), (-266.686404305, -82.002018504))
            Line((-266.686404305, -82.002018504), (-291.578404305, -77.590018504))
        make_face()
        with BuildLine():
            ThreePointArc((-293.469089433, -160.470073486), (-303.469089433, -170.470073486), (-293.469089433, -180.470073486))
            Line((-293.469089433, -180.470073486), (-268.577089433, -176.058073486))
            Line((-268.577089433, -176.058073486), (-250.593889433, -176.058073486))
            Line((-250.593889433, -176.058073486), (-250.593889433, -171.970073486))
            Line((-250.593889433, -171.970073486), (400.05, -171.970073486))
            Line((400.05, -171.970073486), (400.05, -168.970073486))
            Line((400.05, -168.970073486), (-250.593889433, -168.970073486))
            Line((-250.593889433, -168.970073486), (-250.593889433, -164.882073486))
            Line((-250.593889433, -164.882073486), (-268.577089433, -164.882073486))
            Line((-268.577089433, -164.882073486), (-293.469089433, -160.470073486))
        make_face()
        with BuildLine():
            Line((-367.752506177, -242.730724205), (-346.297445197, -238.927906872))
            Line((-346.297445197, -238.927906872), (-328.314245197, -238.927906872))
            Line((-328.314245197, -238.927906872), (-328.314245197, -234.839906872))
            Line((-328.314245197, -234.839906872), (400.05, -234.839906872))
            Line((400.05, -234.839906872), (400.05, -231.839906872))
            Line((400.05, -231.839906872), (-328.314245197, -231.839906872))
            Line((-328.314245197, -231.839906872), (-328.314245197, -227.751906872))
            Line((-328.314245197, -227.751906872), (-346.297445197, -227.751906872))
            Line((-346.297445197, -227.751906872), (-367.752506177, -223.949089539))
            ThreePointArc((-367.752506177, -223.949089539), (-381.189445197, -233.339906872), (-367.752506177, -242.730724205))
        make_face()
        with BuildLine():
            ThreePointArc((162.65597334, -122.898191443), (152.65597334, -132.898191443), (162.65597334, -142.898191443))
            Line((162.65597334, -142.898191443), (187.54797334, -138.486191443))
            Line((187.54797334, -138.486191443), (205.53117334, -138.486191443))
            Line((205.53117334, -138.486191443), (205.53117334, -134.398191443))
            Line((205.53117334, -134.398191443), (400.05, -134.398191443))
            Line((400.05, -134.398191443), (400.05, -131.398191443))
            Line((400.05, -131.398191443), (205.53117334, -131.398191443))
            Line((205.53117334, -131.398191443), (205.53117334, -127.310191443))
            Line((205.53117334, -127.310191443), (187.54797334, -127.310191443))
            Line((187.54797334, -127.310191443), (162.65597334, -122.898191443))
        make_face()
        with BuildLine():
            ThreePointArc((251.685313442, -195.225966369), (241.685313442, -205.225966369), (251.685313442, -215.225966369))
            Line((251.685313442, -215.225966369), (276.577313442, -210.813966369))
            Line((276.577313442, -210.813966369), (294.560513442, -210.813966369))
            Line((294.560513442, -210.813966369), (294.560513442, -206.725966369))
            Line((294.560513442, -206.725966369), (400.05, -206.725966369))
            Line((400.05, -206.725966369), (400.05, -203.725966369))
            Line((400.05, -203.725966369), (294.560513442, -203.725966369))
            Line((294.560513442, -203.725966369), (294.560513442, -199.637966369))
            Line((294.560513442, -199.637966369), (276.577313442, -199.637966369))
            Line((276.577313442, -199.637966369), (251.685313442, -195.225966369))
        make_face()
    extrude(amount=-CUT_EXTRUDE3_DEPTH, mode=Mode.SUBTRACT)

    # Sketch3 → Cut-Extrude5 (cut, through all)
    with BuildSketch(Plane(origin=(0, -10, 0), x_dir=(1, 0, 0), z_dir=(0, 1, 0))):
        with Locations((251.366710834, 214.582705951)):
            Rectangle(SKETCH3_W, SKETCH3_H)
        with Locations((-369.773155385, 170.310554041)):
            Rectangle(SKETCH3_W_2, SKETCH3_H_2)
        with Locations((151.923147728, -44.040321007)):
            Rectangle(SKETCH3_W, SKETCH3_H_3)
        with Locations((85.038457639, 40.577081776)):
            Rectangle(SKETCH3_W, SKETCH3_H)
        with Locations((-197.727360818, -2.179904367)):
            Rectangle(SKETCH3_W_3, SKETCH3_H)
        with Locations((-291.751179531, -86.970771666)):
            Rectangle(SKETCH3_W, SKETCH3_H_3)
        with Locations((-371.006310039, -233.225562931)):
            Rectangle(SKETCH3_W, SKETCH3_H_3)
        with Locations((251.733319115, -205.02345989)):
            Rectangle(SKETCH3_W_3, SKETCH3_H)
        with Locations((-293.345303708, 86.692367874)):
            Rectangle(SKETCH3_W_3, SKETCH3_H_3)
        with Locations((142.110300403, 129.002635792)):
            Rectangle(SKETCH3_W, SKETCH3_H_3)
        with Locations((162.40665728, -132.761369807)):
            Rectangle(SKETCH3_W_3, SKETCH3_H_3)
        with Locations((-293.581129322, -170.528225575)):
            Rectangle(SKETCH3_W, SKETCH3_H_3)
    extrude(amount=-CUT_EXTRUDE5_DEPTH, mode=Mode.SUBTRACT)


solid = part.part
